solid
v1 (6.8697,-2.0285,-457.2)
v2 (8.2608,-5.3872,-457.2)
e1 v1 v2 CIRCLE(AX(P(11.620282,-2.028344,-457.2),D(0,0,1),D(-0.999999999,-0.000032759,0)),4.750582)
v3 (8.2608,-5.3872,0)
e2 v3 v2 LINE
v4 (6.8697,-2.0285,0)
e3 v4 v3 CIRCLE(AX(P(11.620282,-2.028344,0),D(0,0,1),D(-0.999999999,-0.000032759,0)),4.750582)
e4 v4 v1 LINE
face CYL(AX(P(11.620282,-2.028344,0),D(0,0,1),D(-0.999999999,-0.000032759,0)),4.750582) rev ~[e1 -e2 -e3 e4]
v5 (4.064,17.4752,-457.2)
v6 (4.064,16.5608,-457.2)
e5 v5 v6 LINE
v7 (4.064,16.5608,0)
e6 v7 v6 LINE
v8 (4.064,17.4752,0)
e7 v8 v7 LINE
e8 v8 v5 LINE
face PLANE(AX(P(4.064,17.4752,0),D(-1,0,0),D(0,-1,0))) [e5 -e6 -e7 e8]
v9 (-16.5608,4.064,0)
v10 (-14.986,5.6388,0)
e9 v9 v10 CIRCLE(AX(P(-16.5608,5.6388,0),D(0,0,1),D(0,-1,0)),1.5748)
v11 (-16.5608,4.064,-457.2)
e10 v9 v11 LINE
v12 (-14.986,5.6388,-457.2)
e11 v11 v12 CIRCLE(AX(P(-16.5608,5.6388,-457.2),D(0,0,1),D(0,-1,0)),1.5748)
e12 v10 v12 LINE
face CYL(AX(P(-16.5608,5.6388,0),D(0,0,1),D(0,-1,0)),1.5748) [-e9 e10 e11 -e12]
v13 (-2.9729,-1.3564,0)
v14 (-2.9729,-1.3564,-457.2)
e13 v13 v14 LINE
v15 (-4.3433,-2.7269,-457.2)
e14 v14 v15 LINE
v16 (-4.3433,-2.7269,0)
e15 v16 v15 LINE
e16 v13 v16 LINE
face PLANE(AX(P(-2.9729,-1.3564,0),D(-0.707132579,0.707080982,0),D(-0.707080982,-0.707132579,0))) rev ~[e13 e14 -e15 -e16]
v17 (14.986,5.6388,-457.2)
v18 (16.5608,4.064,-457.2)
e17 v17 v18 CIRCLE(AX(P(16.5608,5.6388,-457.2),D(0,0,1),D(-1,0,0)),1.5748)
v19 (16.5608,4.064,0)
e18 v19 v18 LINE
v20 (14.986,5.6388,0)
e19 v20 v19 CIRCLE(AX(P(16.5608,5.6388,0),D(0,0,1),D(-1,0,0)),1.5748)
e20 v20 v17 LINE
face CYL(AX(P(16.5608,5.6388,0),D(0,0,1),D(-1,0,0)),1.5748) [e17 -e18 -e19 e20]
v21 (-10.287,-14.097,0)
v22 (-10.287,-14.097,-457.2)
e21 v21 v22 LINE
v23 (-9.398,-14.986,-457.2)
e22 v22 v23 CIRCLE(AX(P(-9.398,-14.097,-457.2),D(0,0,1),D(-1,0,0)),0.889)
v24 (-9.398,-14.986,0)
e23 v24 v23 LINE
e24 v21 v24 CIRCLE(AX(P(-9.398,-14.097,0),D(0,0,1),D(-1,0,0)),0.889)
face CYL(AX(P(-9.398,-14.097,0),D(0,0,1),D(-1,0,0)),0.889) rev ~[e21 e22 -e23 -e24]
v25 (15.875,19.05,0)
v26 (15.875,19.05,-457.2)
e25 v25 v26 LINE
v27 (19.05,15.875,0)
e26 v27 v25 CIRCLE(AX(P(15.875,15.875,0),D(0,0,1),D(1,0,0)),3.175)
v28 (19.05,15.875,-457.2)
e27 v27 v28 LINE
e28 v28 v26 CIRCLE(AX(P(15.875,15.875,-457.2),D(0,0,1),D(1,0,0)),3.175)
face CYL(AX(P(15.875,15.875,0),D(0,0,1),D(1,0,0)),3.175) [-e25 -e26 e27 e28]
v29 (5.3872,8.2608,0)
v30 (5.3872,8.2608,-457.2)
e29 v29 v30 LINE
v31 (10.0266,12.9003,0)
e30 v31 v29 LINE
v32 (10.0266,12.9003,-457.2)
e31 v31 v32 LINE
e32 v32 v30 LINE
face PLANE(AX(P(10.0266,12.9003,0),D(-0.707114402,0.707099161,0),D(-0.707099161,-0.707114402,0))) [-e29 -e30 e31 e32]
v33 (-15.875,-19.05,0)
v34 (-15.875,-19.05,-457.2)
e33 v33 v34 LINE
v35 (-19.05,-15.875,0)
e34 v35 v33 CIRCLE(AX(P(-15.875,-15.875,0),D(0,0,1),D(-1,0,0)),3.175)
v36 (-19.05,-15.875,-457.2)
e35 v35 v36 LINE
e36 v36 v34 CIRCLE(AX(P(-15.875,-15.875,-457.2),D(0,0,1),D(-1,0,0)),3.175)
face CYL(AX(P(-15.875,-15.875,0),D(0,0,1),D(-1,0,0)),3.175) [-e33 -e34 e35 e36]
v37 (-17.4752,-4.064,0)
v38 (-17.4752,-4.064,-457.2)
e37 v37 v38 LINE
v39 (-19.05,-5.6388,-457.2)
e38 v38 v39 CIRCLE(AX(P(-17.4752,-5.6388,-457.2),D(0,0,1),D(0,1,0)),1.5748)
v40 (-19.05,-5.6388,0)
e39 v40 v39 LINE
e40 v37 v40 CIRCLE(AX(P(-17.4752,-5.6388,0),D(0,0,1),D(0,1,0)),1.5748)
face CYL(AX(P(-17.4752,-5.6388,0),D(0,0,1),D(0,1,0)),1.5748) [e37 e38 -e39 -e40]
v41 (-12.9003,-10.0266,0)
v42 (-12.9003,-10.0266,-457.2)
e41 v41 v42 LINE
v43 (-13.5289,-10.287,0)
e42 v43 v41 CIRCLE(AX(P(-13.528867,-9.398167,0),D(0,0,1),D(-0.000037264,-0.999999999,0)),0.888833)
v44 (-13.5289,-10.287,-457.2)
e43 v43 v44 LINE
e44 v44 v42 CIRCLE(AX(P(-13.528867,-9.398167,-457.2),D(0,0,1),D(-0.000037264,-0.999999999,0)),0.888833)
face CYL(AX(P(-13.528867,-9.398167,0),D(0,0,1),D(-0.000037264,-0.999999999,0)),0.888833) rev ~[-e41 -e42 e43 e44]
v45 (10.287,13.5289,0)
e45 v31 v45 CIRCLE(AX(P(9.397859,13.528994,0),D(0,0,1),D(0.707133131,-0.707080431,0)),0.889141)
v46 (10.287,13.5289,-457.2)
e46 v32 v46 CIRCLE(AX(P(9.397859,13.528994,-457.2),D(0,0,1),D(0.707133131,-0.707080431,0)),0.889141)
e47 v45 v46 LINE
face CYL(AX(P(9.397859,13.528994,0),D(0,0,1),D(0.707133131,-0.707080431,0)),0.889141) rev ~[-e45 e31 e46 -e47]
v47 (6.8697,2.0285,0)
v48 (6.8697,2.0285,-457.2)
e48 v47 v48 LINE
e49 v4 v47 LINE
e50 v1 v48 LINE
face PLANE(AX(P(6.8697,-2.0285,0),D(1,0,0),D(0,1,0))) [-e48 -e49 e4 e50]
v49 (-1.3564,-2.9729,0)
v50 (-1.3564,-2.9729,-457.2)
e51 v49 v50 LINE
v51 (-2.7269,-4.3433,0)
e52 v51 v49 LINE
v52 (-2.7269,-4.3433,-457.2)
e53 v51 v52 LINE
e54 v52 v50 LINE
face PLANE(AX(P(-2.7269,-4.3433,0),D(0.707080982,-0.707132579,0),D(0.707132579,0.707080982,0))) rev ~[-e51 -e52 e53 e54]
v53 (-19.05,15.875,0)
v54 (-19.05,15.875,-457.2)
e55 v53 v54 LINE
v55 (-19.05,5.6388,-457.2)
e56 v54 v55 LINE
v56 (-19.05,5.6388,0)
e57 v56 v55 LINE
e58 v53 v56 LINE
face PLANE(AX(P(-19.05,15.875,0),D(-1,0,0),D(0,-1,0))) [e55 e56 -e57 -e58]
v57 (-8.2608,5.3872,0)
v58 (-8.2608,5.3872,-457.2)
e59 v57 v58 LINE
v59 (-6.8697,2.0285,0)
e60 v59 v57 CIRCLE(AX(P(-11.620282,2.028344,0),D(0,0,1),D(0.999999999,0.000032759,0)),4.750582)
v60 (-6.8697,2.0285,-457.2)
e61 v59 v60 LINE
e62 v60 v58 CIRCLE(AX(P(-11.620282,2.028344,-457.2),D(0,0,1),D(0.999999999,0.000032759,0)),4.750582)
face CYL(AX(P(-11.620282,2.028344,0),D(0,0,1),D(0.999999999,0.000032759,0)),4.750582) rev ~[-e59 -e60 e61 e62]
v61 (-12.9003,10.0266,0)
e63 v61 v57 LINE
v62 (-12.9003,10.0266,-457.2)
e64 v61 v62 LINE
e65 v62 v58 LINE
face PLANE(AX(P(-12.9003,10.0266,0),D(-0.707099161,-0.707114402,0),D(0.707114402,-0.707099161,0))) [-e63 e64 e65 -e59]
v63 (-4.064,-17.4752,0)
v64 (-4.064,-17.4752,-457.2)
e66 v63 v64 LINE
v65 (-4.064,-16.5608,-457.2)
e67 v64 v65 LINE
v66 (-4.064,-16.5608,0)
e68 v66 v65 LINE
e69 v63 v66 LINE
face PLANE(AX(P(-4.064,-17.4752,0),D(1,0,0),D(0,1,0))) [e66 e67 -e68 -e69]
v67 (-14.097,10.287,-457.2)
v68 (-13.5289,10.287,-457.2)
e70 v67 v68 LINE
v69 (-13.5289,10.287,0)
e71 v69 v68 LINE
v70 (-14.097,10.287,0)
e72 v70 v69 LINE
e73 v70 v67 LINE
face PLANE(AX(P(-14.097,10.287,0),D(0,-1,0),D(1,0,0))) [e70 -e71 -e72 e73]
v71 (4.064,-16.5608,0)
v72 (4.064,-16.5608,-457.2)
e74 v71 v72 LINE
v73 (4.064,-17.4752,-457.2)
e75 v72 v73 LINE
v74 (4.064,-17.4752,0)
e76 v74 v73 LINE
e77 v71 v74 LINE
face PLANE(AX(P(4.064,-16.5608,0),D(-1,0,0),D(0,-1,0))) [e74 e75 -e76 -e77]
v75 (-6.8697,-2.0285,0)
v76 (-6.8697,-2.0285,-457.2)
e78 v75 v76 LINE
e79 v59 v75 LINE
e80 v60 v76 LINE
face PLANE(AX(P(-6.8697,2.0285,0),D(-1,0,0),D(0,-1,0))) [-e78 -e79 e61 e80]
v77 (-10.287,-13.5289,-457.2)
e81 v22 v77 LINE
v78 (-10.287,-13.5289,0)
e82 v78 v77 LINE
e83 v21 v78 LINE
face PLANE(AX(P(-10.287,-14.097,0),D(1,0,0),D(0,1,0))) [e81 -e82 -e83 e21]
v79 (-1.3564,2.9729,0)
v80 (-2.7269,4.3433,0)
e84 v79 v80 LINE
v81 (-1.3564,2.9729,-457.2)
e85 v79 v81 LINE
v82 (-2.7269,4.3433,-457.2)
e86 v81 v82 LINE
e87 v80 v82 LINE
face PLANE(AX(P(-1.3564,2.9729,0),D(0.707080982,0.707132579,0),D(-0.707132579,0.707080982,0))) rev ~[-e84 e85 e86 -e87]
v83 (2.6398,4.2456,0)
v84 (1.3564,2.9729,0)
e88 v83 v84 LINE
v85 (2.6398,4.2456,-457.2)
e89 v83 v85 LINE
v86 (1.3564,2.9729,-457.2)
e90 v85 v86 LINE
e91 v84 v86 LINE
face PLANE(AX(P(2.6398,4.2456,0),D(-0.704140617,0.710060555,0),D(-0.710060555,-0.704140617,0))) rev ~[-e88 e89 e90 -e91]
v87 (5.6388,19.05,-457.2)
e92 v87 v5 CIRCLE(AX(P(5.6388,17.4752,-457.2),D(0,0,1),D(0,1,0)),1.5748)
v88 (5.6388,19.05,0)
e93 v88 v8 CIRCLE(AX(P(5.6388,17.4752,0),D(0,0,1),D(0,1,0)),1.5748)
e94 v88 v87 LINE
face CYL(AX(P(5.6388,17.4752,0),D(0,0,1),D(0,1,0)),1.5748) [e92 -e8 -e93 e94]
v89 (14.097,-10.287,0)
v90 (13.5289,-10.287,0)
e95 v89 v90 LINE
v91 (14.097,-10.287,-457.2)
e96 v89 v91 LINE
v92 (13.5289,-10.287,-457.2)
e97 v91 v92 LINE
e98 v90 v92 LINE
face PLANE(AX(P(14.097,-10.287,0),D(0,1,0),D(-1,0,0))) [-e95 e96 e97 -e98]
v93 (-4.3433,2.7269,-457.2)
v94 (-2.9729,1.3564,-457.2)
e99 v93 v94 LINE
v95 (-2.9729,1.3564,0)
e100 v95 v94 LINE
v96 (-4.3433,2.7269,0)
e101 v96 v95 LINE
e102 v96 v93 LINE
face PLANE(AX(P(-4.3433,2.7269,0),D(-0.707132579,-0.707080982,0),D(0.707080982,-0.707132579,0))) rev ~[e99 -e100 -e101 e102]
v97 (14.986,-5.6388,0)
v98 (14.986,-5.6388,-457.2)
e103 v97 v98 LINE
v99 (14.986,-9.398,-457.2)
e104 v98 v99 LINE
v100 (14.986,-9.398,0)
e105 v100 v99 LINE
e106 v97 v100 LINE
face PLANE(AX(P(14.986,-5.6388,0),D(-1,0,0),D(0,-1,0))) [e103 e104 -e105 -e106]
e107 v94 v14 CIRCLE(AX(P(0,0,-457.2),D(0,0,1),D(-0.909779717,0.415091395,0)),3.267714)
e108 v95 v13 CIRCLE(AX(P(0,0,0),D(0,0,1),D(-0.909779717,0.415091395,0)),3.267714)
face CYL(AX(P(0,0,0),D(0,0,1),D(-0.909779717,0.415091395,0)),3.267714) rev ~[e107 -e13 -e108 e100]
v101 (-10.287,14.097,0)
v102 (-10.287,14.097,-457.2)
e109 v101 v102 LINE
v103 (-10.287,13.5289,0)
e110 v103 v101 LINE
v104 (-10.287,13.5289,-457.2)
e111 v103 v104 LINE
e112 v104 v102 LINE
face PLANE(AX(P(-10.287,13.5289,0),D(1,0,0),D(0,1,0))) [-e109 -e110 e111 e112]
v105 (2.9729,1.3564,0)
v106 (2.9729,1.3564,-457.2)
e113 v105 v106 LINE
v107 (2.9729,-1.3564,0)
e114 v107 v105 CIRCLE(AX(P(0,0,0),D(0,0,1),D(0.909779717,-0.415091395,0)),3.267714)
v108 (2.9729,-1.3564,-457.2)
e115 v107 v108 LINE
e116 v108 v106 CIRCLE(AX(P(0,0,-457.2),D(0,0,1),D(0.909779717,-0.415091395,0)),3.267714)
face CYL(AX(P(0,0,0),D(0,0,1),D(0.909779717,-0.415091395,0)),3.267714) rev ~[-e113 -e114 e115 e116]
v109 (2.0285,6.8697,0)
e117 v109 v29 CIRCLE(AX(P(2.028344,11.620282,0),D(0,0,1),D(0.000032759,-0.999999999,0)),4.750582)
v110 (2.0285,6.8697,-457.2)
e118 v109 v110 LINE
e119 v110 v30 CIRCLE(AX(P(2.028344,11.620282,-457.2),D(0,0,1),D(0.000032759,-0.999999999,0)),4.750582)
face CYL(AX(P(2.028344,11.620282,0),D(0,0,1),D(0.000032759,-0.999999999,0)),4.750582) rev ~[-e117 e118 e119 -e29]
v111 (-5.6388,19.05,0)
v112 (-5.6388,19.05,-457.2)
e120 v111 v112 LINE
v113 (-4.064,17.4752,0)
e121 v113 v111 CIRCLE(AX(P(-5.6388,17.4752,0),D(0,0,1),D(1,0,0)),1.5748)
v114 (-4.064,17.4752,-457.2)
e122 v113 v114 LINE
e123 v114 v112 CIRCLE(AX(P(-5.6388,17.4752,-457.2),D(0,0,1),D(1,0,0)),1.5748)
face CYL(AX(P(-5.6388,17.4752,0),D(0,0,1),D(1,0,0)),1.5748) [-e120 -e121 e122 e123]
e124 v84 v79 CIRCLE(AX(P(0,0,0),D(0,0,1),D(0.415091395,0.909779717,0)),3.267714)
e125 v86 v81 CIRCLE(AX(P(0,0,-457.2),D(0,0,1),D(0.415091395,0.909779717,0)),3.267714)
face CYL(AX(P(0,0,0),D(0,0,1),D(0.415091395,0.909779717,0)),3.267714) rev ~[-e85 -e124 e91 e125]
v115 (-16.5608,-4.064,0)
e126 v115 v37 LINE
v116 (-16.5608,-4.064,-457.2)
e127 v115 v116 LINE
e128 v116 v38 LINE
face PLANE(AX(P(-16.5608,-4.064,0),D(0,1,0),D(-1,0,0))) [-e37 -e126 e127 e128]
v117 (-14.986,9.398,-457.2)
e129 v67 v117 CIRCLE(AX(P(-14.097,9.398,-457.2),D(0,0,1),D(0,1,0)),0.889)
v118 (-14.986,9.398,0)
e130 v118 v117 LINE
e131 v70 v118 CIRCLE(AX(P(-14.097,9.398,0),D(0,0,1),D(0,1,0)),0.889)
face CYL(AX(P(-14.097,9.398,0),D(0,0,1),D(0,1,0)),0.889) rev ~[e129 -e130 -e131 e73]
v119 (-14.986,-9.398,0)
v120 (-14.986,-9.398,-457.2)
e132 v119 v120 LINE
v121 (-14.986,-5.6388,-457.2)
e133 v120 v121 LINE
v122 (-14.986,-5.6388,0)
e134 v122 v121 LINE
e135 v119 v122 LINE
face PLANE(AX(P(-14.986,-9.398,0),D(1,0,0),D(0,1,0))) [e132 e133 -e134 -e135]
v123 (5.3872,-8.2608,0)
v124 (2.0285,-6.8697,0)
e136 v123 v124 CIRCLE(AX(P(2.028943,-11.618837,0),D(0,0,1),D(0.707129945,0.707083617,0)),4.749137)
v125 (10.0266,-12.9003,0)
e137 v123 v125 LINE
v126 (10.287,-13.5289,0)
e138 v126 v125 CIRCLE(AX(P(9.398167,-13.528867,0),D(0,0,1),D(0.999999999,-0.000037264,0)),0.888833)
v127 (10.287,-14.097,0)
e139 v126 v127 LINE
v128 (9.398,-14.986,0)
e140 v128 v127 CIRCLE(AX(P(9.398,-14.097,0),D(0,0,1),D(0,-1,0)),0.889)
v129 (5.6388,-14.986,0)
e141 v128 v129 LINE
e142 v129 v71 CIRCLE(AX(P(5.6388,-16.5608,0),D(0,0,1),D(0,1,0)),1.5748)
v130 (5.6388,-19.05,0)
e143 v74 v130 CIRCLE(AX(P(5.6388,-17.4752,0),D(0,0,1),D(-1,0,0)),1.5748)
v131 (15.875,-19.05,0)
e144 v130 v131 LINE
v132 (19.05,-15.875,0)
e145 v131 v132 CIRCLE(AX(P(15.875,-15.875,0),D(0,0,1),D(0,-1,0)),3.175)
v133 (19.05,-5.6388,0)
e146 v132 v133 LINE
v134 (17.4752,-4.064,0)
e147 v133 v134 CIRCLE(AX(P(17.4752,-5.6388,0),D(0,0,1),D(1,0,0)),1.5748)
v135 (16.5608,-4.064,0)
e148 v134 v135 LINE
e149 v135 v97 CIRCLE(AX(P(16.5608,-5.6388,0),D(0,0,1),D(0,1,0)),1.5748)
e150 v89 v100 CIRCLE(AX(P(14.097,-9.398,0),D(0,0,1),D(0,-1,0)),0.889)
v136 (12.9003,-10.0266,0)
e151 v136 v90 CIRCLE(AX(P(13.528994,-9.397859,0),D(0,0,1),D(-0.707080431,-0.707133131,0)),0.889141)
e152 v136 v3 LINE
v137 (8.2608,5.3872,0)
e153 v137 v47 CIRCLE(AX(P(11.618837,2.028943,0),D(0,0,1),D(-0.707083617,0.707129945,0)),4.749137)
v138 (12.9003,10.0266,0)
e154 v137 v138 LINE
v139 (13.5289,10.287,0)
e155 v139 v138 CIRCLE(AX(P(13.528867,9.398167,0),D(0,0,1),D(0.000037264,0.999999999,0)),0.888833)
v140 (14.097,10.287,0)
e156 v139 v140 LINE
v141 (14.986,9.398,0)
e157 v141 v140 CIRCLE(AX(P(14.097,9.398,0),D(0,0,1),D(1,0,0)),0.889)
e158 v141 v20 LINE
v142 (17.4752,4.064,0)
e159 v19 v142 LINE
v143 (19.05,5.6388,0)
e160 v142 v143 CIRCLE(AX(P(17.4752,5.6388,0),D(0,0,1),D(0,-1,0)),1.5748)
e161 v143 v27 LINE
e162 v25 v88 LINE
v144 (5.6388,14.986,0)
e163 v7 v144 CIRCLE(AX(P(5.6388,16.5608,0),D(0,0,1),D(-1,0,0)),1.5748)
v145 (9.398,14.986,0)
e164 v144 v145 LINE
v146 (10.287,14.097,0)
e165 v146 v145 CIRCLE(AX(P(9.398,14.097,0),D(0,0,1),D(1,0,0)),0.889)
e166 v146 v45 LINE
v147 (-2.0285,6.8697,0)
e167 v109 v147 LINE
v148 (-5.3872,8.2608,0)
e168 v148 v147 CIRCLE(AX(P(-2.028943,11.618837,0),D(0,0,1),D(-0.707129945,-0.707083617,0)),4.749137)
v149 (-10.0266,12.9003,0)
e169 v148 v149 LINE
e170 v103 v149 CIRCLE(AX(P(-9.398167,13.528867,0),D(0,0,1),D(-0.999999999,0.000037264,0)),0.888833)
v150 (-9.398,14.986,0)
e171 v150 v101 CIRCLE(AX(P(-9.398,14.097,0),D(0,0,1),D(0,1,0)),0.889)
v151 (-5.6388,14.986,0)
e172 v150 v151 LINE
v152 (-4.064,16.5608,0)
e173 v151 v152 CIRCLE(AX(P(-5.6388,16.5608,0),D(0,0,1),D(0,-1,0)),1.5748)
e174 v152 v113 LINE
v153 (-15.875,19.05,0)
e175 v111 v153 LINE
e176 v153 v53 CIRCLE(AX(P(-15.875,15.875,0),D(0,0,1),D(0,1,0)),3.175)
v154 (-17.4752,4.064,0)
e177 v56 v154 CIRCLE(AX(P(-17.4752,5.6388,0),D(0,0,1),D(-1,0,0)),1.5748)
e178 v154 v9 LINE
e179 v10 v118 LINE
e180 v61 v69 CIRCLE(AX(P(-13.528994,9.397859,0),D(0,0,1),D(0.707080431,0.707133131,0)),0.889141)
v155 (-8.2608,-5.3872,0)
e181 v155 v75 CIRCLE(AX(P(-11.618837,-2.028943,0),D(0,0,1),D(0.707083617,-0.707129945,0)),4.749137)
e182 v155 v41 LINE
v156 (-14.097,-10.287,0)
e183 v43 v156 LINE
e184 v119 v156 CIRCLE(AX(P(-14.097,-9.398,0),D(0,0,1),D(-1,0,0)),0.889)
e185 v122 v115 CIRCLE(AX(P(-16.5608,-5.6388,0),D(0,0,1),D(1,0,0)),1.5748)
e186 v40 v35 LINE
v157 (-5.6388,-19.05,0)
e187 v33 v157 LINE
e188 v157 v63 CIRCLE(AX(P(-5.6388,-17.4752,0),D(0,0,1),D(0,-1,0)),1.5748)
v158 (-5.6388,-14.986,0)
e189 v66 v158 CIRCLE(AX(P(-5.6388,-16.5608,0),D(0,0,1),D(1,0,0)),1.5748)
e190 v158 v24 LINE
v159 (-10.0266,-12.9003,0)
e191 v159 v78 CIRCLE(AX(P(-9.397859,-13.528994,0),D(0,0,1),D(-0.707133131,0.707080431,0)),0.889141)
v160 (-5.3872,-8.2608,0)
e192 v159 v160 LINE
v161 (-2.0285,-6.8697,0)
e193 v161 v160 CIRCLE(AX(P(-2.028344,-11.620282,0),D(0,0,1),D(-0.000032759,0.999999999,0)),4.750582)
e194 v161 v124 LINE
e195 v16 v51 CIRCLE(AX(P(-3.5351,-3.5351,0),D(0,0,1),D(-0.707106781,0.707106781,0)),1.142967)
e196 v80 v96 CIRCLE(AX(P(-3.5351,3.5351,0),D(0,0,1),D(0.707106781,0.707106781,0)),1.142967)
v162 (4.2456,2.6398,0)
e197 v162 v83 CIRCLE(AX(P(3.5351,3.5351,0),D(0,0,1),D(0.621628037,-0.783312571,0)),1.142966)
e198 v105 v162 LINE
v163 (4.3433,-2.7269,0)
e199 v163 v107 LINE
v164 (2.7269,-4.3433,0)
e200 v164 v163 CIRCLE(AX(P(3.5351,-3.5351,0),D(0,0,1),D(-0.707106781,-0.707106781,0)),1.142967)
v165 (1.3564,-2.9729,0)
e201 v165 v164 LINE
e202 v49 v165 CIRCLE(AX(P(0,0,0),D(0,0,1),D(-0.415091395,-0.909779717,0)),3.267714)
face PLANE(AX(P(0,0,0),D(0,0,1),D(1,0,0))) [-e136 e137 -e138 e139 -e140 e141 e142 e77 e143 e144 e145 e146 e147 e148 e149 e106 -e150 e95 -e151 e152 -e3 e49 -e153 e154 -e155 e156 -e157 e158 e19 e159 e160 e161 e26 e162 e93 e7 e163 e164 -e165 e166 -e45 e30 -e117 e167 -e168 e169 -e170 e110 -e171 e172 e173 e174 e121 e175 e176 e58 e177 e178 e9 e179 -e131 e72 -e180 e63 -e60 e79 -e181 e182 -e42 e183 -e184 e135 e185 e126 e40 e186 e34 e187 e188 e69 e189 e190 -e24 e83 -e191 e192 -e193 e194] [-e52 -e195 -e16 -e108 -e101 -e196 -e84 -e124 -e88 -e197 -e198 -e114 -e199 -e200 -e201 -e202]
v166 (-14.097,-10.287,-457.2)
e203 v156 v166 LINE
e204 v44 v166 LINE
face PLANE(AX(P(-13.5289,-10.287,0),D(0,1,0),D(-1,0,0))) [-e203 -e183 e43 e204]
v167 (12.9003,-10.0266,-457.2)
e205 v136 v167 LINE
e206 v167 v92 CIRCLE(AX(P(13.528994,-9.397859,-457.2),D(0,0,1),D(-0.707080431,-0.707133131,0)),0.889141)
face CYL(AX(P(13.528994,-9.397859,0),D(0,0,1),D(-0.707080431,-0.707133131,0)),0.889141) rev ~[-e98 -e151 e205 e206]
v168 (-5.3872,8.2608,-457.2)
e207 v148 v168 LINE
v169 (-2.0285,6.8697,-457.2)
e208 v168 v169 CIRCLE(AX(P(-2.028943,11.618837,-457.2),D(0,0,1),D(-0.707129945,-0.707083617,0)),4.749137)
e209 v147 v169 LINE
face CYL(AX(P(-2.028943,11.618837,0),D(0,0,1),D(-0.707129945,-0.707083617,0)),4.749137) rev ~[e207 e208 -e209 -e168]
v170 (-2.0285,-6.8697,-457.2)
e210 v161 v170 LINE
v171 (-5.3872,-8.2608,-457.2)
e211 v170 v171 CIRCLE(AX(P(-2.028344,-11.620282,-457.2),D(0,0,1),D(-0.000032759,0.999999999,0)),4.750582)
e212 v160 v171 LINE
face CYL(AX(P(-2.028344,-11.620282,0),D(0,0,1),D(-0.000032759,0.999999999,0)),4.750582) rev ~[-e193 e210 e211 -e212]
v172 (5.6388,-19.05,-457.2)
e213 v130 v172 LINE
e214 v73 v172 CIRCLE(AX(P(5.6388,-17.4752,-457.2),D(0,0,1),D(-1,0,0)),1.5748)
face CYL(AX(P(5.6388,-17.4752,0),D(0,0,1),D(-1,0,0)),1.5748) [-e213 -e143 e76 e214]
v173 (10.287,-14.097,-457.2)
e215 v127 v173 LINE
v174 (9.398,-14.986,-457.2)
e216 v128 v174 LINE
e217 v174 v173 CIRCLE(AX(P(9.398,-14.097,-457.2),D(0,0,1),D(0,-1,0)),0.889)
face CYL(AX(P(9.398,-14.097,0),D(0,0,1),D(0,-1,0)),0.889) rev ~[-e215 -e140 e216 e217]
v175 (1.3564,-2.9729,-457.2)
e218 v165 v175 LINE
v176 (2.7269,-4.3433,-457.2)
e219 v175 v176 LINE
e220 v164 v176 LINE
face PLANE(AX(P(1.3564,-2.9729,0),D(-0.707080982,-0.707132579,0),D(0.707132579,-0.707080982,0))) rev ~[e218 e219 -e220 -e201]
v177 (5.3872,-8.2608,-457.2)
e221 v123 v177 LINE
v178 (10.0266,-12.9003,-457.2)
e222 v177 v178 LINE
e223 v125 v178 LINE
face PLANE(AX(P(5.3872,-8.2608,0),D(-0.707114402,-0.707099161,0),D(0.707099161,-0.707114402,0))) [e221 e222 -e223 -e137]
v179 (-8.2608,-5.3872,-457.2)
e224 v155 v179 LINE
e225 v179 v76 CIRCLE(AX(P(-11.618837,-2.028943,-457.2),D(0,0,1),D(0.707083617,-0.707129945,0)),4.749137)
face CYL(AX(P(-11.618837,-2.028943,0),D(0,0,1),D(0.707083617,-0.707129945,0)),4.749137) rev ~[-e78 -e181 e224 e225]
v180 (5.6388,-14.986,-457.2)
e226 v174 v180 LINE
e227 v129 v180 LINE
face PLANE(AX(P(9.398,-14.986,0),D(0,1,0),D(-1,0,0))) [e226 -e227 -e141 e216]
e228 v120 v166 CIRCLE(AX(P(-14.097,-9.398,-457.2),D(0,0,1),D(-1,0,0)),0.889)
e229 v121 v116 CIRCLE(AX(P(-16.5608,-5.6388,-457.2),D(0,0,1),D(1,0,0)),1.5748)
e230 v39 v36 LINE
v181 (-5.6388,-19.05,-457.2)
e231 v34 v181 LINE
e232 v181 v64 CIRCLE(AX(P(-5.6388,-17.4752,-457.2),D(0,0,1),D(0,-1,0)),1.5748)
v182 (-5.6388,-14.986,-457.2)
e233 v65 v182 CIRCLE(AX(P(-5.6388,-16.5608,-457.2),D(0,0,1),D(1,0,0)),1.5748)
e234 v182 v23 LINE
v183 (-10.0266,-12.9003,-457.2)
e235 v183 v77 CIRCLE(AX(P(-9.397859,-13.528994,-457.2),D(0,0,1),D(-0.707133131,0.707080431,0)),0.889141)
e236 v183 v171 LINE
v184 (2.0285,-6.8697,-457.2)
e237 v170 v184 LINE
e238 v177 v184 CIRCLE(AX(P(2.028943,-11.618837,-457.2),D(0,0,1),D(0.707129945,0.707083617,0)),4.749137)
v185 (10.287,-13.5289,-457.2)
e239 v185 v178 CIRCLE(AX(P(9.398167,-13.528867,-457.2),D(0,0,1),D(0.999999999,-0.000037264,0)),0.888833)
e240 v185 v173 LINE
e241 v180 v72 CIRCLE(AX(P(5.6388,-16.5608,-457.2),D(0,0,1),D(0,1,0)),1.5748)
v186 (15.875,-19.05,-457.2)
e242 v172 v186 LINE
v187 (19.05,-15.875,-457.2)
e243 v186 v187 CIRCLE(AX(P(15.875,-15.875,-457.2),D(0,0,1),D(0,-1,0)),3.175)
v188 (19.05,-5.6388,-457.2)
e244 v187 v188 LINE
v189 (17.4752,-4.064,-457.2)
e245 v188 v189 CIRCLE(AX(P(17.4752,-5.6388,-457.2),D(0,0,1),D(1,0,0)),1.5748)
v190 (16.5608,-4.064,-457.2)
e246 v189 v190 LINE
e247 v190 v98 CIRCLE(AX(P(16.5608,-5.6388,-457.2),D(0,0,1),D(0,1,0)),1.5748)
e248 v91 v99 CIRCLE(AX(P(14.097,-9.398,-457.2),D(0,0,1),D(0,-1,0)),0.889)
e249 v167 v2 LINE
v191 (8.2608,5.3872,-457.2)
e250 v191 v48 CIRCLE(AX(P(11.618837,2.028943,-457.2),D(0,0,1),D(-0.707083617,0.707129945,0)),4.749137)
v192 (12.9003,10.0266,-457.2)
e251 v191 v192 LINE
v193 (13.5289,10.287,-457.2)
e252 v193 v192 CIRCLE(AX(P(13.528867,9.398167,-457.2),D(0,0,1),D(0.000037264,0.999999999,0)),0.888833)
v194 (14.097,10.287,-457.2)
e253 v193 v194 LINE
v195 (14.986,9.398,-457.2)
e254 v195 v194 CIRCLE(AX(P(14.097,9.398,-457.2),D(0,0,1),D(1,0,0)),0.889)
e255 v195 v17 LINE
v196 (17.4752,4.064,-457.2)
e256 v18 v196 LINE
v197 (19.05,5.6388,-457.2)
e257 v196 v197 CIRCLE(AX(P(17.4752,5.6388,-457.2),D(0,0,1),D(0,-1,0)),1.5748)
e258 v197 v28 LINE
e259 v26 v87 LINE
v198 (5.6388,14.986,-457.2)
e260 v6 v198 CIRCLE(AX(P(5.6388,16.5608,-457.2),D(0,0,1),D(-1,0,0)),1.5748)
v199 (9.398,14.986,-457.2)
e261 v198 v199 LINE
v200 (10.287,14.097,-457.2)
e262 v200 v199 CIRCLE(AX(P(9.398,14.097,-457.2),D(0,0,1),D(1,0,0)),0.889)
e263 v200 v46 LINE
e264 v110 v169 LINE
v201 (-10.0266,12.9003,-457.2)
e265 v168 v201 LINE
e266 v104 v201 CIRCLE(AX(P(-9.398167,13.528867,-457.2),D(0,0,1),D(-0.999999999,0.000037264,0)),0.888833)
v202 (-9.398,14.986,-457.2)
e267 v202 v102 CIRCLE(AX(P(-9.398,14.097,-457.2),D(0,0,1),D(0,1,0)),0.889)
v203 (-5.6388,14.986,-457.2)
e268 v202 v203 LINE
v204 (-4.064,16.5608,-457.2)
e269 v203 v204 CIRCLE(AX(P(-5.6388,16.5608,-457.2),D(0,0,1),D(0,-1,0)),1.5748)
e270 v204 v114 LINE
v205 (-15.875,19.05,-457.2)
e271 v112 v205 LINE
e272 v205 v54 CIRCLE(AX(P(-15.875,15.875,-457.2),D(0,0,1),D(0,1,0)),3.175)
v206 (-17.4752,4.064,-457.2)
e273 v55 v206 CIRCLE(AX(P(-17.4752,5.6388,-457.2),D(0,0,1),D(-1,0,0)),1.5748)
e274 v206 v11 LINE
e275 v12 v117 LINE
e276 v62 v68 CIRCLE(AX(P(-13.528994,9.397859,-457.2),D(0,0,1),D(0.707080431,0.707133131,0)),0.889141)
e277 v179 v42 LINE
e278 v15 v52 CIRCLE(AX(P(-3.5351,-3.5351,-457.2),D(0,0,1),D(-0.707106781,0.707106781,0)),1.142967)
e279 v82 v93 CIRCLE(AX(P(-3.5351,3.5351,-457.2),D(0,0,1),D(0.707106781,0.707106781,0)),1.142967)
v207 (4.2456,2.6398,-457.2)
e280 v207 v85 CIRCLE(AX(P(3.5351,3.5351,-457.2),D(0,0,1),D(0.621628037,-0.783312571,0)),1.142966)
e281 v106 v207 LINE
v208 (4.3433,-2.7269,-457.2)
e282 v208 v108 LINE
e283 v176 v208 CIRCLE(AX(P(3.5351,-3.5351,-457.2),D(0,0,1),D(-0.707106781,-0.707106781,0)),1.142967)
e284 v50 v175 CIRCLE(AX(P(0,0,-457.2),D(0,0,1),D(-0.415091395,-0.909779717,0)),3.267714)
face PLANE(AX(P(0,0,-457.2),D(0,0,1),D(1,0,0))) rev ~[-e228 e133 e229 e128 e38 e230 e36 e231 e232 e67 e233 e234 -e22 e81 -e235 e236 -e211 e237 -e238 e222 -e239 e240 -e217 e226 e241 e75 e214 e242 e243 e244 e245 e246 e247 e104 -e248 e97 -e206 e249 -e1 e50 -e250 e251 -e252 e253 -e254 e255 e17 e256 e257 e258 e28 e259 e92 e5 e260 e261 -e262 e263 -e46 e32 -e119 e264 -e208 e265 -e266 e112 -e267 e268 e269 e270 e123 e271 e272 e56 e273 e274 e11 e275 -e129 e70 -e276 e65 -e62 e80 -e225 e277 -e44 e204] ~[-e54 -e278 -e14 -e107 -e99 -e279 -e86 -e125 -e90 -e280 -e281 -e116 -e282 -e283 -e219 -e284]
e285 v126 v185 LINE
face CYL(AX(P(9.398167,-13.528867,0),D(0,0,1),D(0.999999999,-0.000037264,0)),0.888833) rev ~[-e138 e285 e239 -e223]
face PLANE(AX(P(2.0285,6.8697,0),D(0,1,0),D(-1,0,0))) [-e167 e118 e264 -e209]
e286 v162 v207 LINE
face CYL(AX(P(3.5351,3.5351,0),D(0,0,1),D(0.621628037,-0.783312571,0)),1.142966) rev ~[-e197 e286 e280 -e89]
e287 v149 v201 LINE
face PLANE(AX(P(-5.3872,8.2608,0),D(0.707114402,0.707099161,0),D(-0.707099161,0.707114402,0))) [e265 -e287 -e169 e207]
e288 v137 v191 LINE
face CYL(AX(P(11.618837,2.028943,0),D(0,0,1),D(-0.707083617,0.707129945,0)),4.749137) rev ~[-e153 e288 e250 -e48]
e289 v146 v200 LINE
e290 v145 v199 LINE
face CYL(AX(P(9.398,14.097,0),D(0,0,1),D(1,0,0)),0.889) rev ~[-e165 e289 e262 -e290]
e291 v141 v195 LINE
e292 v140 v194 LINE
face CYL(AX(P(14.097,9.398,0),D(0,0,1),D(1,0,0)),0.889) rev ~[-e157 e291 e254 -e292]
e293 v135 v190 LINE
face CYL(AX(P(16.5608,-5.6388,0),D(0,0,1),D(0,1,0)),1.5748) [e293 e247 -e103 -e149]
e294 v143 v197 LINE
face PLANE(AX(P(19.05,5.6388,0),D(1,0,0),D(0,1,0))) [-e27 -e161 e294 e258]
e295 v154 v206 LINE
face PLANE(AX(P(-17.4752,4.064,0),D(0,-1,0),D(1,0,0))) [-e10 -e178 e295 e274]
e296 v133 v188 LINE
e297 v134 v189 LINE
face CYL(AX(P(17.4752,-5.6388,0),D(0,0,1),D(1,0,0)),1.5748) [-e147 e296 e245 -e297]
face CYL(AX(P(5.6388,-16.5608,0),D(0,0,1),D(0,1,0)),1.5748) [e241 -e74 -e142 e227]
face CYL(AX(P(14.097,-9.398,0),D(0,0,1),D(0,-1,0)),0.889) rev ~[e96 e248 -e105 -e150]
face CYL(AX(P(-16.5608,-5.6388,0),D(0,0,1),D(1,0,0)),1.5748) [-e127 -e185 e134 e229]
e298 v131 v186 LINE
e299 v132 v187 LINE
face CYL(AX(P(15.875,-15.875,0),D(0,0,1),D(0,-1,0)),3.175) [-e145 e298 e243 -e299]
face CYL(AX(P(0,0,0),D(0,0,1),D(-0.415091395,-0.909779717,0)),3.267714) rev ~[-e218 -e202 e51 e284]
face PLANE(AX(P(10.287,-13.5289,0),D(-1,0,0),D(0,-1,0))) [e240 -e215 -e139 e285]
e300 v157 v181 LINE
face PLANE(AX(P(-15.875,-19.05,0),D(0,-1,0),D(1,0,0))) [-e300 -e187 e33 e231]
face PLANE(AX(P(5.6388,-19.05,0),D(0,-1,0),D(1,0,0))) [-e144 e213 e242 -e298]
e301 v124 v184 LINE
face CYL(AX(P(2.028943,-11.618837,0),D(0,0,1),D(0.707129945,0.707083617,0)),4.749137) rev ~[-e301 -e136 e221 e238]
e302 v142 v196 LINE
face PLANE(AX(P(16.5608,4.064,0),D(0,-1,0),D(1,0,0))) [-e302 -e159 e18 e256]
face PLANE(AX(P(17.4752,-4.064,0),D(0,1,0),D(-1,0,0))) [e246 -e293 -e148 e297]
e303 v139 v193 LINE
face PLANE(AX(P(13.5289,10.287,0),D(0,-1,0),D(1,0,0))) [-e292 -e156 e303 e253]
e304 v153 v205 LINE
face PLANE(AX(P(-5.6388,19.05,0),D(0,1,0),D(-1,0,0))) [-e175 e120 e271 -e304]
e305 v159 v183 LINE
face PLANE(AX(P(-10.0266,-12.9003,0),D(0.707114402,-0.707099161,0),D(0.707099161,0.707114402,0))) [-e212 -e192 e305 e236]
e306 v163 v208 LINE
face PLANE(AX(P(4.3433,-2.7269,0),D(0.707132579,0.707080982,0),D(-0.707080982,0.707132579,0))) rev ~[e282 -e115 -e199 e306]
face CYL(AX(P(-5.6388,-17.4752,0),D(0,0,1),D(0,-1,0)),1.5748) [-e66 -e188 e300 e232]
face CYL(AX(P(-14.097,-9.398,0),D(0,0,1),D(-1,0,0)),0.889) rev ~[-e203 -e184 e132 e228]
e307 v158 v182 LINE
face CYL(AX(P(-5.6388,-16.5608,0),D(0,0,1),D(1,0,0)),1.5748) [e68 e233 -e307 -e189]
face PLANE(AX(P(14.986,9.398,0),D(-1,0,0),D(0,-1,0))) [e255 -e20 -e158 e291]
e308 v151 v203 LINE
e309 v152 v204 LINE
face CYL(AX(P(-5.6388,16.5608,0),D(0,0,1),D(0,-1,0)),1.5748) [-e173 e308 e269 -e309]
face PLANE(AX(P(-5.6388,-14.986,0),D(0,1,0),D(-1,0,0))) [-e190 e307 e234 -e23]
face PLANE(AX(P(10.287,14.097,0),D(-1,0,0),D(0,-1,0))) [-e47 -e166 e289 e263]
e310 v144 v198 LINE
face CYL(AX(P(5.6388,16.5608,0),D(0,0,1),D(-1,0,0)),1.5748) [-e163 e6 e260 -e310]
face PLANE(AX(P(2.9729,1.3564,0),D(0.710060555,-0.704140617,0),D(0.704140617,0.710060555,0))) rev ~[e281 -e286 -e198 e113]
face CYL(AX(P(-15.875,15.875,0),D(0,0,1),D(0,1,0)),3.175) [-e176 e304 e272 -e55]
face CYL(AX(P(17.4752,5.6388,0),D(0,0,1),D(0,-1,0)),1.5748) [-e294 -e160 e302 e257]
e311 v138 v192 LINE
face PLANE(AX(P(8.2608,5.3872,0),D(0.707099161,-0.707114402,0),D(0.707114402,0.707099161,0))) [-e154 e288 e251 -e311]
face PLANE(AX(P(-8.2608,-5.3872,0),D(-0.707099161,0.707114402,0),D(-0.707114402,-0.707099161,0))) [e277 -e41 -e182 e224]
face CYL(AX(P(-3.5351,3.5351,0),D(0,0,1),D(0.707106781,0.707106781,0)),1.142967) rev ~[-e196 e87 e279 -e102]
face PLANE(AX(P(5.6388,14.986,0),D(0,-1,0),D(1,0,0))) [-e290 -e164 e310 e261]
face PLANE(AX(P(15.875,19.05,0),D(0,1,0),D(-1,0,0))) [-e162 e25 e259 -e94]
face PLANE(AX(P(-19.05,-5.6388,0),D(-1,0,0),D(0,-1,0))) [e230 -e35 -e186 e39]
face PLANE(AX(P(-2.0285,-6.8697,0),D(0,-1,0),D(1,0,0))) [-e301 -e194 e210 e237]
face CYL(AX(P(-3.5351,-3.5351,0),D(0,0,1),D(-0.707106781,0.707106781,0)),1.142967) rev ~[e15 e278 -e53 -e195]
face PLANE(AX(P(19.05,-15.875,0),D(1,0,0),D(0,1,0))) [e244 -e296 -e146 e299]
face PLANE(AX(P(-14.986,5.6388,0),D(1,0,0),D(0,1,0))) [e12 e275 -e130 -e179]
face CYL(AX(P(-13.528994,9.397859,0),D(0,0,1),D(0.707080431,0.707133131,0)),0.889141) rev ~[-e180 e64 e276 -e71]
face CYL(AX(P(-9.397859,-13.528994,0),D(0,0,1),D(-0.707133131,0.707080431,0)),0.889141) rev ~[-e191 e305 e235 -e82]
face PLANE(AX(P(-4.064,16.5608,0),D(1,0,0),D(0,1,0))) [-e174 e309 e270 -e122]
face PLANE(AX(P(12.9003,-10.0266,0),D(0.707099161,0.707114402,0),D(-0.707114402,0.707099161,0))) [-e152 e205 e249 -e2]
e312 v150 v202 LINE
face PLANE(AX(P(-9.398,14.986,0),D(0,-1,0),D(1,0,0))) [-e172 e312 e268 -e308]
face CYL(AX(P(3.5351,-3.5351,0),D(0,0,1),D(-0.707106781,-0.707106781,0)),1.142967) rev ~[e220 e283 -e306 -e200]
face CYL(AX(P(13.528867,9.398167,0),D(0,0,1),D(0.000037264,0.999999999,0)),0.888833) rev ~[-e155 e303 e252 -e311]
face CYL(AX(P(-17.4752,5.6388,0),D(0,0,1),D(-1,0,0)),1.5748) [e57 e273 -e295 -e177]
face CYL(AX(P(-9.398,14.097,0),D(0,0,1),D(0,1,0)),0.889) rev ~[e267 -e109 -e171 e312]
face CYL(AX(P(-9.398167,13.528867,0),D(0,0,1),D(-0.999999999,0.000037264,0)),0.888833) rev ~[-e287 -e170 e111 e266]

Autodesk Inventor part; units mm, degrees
ref_plane "YZ Plane" through (0, 0, 0) normal (1, 0, 0) x (0, 1, 0)
ref_plane "XZ Plane" through (0, 0, 0) normal (0, 1, 0) x (-1, 0, 0)
ref_plane "XY Plane" through (0, 0, 0) normal (0, 0, 1) x (1, 0, 0)
sketch "Sketch1" plane through (0, 0, 0) normal (0, 0, 1) x (1, 0, 0)
  arc A0 (4.2456, 2.6398) -> (2.6398, 4.2456) centre (3.5351, 3.5351) ccw
  line L0 (2.9729, 1.3564) -> (4.2456, 2.6398)
  arc A1 (2.9729, -1.3564) -> (2.9729, 1.3564) centre (0, 0) ccw
  line L1 (4.3433, -2.7269) -> (2.9729, -1.3564)
  arc A2 (2.7269, -4.3433) -> (4.3433, -2.7269) centre (3.5351, -3.5351) ccw
  line L2 (1.3564, -2.9729) -> (2.7269, -4.3433)
  arc A3 (-1.3564, -2.9729) -> (1.3564, -2.9729) centre (0, 0) ccw
  line L3 (-2.7269, -4.3433) -> (-1.3564, -2.9729)
  arc A4 (-4.3433, -2.7269) -> (-2.7269, -4.3433) centre (-3.5351, -3.5351) ccw
  line L4 (-2.9729, -1.3564) -> (-4.3433, -2.7269)
  arc A5 (-2.9729, 1.3564) -> (-2.9729, -1.3564) centre (0, 0) ccw
  line L5 (-4.3433, 2.7269) -> (-2.9729, 1.3564)
  arc A6 (-2.7269, 4.3433) -> (-4.3433, 2.7269) centre (-3.5351, 3.5351) ccw
  line L6 (-1.3564, 2.9729) -> (-2.7269, 4.3433)
  arc A7 (1.3564, 2.9729) -> (-1.3564, 2.9729) centre (0, 0) ccw
  line L7 (2.6398, 4.2456) -> (1.3564, 2.9729)
  arc A8 (16.5608, -4.064) -> (14.986, -5.6388) centre (16.5608, -5.6388) ccw
  line L8 (14.986, -5.6388) -> (14.986, -9.398)
  arc A9 (14.097, -10.287) -> (14.986, -9.398) centre (14.097, -9.398) ccw
  line L9 (14.097, -10.287) -> (13.5289, -10.287)
  arc A10 (12.9003, -10.0266) -> (13.5289, -10.287) centre (13.5289, -9.398) ccw
  line L10 (12.9003, -10.0266) -> (8.2608, -5.3872)
  arc A11 (6.8697, -2.0285) -> (8.2608, -5.3872) centre (11.6195, -2.0285) ccw
  line L11 (6.8697, -2.0285) -> (6.8697, 2.0285)
  arc A12 (8.2608, 5.3872) -> (6.8697, 2.0285) centre (11.6195, 2.0285) ccw
  line L12 (8.2608, 5.3872) -> (12.9003, 10.0266)
  arc A13 (13.5289, 10.287) -> (12.9003, 10.0266) centre (13.5289, 9.398) ccw
  line L13 (13.5289, 10.287) -> (14.097, 10.287)
  arc A14 (14.986, 9.398) -> (14.097, 10.287) centre (14.097, 9.398) ccw
  line L14 (14.986, 9.398) -> (14.986, 5.6388)
  arc A15 (14.986, 5.6388) -> (16.5608, 4.064) centre (16.5608, 5.6388) ccw
  line L15 (16.5608, 4.064) -> (17.4752, 4.064)
  arc A16 (17.4752, 4.064) -> (19.05, 5.6388) centre (17.4752, 5.6388) ccw
  line L16 (19.05, 5.6388) -> (19.05, 15.875)
  arc A17 (19.05, 15.875) -> (15.875, 19.05) centre (15.875, 15.875) ccw
  line L17 (15.875, 19.05) -> (5.6388, 19.05)
  arc A18 (5.6388, 19.05) -> (4.064, 17.4752) centre (5.6388, 17.4752) ccw
  line L18 (4.064, 17.4752) -> (4.064, 16.5608)
  arc A19 (4.064, 16.5608) -> (5.6388, 14.986) centre (5.6388, 16.5608) ccw
  line L19 (5.6388, 14.986) -> (9.398, 14.986)
  arc A20 (10.287, 14.097) -> (9.398, 14.986) centre (9.398, 14.097) ccw
  line L20 (10.287, 14.097) -> (10.287, 13.5289)
  arc A21 (10.0266, 12.9003) -> (10.287, 13.5289) centre (9.398, 13.5289) ccw
  line L21 (10.0266, 12.9003) -> (5.3872, 8.2608)
  arc A22 (2.0285, 6.8697) -> (5.3872, 8.2608) centre (2.0285, 11.6195) ccw
  line L22 (2.0285, 6.8697) -> (-2.0285, 6.8697)
  arc A23 (-5.3872, 8.2608) -> (-2.0285, 6.8697) centre (-2.0285, 11.6195) ccw
  line L23 (-5.3872, 8.2608) -> (-10.0266, 12.9003)
  arc A24 (-10.287, 13.5289) -> (-10.0266, 12.9003) centre (-9.398, 13.5289) ccw
  line L24 (-10.287, 13.5289) -> (-10.287, 14.097)
  arc A25 (-9.398, 14.986) -> (-10.287, 14.097) centre (-9.398, 14.097) ccw
  line L25 (-9.398, 14.986) -> (-5.6388, 14.986)
  arc A26 (-5.6388, 14.986) -> (-4.064, 16.5608) centre (-5.6388, 16.5608) ccw
  line L26 (-4.064, 16.5608) -> (-4.064, 17.4752)
  arc A27 (-4.064, 17.4752) -> (-5.6388, 19.05) centre (-5.6388, 17.4752) ccw
  line L27 (-5.6388, 19.05) -> (-15.875, 19.05)
  arc A28 (-15.875, 19.05) -> (-19.05, 15.875) centre (-15.875, 15.875) ccw
  line L28 (-19.05, 15.875) -> (-19.05, 5.6388)
  arc A29 (-19.05, 5.6388) -> (-17.4752, 4.064) centre (-17.4752, 5.6388) ccw
  line L29 (-17.4752, 4.064) -> (-16.5608, 4.064)
  arc A30 (-16.5608, 4.064) -> (-14.986, 5.6388) centre (-16.5608, 5.6388) ccw
  line L30 (-14.986, 5.6388) -> (-14.986, 9.398)
  arc A31 (-14.097, 10.287) -> (-14.986, 9.398) centre (-14.097, 9.398) ccw
  line L31 (-14.097, 10.287) -> (-13.5289, 10.287)
  arc A32 (-12.9003, 10.0266) -> (-13.5289, 10.287) centre (-13.5289, 9.398) ccw
  line L32 (-12.9003, 10.0266) -> (-8.2608, 5.3872)
  arc A33 (-6.8697, 2.0285) -> (-8.2608, 5.3872) centre (-11.6195, 2.0285) ccw
  line L33 (-6.8697, 2.0285) -> (-6.8697, -2.0285)
  arc A34 (-8.2608, -5.3872) -> (-6.8697, -2.0285) centre (-11.6195, -2.0285) ccw
  line L34 (-8.2608, -5.3872) -> (-12.9003, -10.0266)
  arc A35 (-13.5289, -10.287) -> (-12.9003, -10.0266) centre (-13.5289, -9.398) ccw
  line L35 (-13.5289, -10.287) -> (-14.097, -10.287)
  arc A36 (-14.986, -9.398) -> (-14.097, -10.287) centre (-14.097, -9.398) ccw
  line L36 (-14.986, -9.398) -> (-14.986, -5.6388)
  arc A37 (-14.986, -5.6388) -> (-16.5608, -4.064) centre (-16.5608, -5.6388) ccw
  line L37 (-16.5608, -4.064) -> (-17.4752, -4.064)
  arc A38 (-17.4752, -4.064) -> (-19.05, -5.6388) centre (-17.4752, -5.6388) ccw
  line L38 (-19.05, -5.6388) -> (-19.05, -15.875)
  arc A39 (-19.05, -15.875) -> (-15.875, -19.05) centre (-15.875, -15.875) ccw
  line L39 (-15.875, -19.05) -> (-5.6388, -19.05)
  arc A40 (-5.6388, -19.05) -> (-4.064, -17.4752) centre (-5.6388, -17.4752) ccw
  line L40 (-4.064, -17.4752) -> (-4.064, -16.5608)
  arc A41 (-4.064, -16.5608) -> (-5.6388, -14.986) centre (-5.6388, -16.5608) ccw
  line L41 (-5.6388, -14.986) -> (-9.398, -14.986)
  arc A42 (-10.287, -14.097) -> (-9.398, -14.986) centre (-9.398, -14.097) ccw
  line L42 (-10.287, -14.097) -> (-10.287, -13.5289)
  arc A43 (-10.0266, -12.9003) -> (-10.287, -13.5289) centre (-9.398, -13.5289) ccw
  line L43 (-10.0266, -12.9003) -> (-5.3872, -8.2608)
  arc A44 (-2.0285, -6.8697) -> (-5.3872, -8.2608) centre (-2.0285, -11.6195) ccw
  line L44 (-2.0285, -6.8697) -> (2.0285, -6.8697)
  arc A45 (5.3872, -8.2608) -> (2.0285, -6.8697) centre (2.0285, -11.6195) ccw
  line L45 (5.3872, -8.2608) -> (10.0266, -12.9003)
  arc A46 (10.287, -13.5289) -> (10.0266, -12.9003) centre (9.398, -13.5289) ccw
  line L46 (10.287, -13.5289) -> (10.287, -14.097)
  arc A47 (9.398, -14.986) -> (10.287, -14.097) centre (9.398, -14.097) ccw
  line L47 (9.398, -14.986) -> (5.6388, -14.986)
  arc A48 (5.6388, -14.986) -> (4.064, -16.5608) centre (5.6388, -16.5608) ccw
  line L48 (4.064, -16.5608) -> (4.064, -17.4752)
  arc A49 (4.064, -17.4752) -> (5.6388, -19.05) centre (5.6388, -17.4752) ccw
  line L49 (5.6388, -19.05) -> (15.875, -19.05)
  arc A50 (15.875, -19.05) -> (19.05, -15.875) centre (15.875, -15.875) ccw
  line L50 (19.05, -15.875) -> (19.05, -5.6388)
  arc A51 (19.05, -5.6388) -> (17.4752, -4.064) centre (17.4752, -5.6388) ccw
  line L51 (17.4752, -4.064) -> (16.5608, -4.064)
extrude "Extrusion1" add sketch "Sketch1" against normal blind 457.2
properties part number "1515-S" material "Aluminum"
